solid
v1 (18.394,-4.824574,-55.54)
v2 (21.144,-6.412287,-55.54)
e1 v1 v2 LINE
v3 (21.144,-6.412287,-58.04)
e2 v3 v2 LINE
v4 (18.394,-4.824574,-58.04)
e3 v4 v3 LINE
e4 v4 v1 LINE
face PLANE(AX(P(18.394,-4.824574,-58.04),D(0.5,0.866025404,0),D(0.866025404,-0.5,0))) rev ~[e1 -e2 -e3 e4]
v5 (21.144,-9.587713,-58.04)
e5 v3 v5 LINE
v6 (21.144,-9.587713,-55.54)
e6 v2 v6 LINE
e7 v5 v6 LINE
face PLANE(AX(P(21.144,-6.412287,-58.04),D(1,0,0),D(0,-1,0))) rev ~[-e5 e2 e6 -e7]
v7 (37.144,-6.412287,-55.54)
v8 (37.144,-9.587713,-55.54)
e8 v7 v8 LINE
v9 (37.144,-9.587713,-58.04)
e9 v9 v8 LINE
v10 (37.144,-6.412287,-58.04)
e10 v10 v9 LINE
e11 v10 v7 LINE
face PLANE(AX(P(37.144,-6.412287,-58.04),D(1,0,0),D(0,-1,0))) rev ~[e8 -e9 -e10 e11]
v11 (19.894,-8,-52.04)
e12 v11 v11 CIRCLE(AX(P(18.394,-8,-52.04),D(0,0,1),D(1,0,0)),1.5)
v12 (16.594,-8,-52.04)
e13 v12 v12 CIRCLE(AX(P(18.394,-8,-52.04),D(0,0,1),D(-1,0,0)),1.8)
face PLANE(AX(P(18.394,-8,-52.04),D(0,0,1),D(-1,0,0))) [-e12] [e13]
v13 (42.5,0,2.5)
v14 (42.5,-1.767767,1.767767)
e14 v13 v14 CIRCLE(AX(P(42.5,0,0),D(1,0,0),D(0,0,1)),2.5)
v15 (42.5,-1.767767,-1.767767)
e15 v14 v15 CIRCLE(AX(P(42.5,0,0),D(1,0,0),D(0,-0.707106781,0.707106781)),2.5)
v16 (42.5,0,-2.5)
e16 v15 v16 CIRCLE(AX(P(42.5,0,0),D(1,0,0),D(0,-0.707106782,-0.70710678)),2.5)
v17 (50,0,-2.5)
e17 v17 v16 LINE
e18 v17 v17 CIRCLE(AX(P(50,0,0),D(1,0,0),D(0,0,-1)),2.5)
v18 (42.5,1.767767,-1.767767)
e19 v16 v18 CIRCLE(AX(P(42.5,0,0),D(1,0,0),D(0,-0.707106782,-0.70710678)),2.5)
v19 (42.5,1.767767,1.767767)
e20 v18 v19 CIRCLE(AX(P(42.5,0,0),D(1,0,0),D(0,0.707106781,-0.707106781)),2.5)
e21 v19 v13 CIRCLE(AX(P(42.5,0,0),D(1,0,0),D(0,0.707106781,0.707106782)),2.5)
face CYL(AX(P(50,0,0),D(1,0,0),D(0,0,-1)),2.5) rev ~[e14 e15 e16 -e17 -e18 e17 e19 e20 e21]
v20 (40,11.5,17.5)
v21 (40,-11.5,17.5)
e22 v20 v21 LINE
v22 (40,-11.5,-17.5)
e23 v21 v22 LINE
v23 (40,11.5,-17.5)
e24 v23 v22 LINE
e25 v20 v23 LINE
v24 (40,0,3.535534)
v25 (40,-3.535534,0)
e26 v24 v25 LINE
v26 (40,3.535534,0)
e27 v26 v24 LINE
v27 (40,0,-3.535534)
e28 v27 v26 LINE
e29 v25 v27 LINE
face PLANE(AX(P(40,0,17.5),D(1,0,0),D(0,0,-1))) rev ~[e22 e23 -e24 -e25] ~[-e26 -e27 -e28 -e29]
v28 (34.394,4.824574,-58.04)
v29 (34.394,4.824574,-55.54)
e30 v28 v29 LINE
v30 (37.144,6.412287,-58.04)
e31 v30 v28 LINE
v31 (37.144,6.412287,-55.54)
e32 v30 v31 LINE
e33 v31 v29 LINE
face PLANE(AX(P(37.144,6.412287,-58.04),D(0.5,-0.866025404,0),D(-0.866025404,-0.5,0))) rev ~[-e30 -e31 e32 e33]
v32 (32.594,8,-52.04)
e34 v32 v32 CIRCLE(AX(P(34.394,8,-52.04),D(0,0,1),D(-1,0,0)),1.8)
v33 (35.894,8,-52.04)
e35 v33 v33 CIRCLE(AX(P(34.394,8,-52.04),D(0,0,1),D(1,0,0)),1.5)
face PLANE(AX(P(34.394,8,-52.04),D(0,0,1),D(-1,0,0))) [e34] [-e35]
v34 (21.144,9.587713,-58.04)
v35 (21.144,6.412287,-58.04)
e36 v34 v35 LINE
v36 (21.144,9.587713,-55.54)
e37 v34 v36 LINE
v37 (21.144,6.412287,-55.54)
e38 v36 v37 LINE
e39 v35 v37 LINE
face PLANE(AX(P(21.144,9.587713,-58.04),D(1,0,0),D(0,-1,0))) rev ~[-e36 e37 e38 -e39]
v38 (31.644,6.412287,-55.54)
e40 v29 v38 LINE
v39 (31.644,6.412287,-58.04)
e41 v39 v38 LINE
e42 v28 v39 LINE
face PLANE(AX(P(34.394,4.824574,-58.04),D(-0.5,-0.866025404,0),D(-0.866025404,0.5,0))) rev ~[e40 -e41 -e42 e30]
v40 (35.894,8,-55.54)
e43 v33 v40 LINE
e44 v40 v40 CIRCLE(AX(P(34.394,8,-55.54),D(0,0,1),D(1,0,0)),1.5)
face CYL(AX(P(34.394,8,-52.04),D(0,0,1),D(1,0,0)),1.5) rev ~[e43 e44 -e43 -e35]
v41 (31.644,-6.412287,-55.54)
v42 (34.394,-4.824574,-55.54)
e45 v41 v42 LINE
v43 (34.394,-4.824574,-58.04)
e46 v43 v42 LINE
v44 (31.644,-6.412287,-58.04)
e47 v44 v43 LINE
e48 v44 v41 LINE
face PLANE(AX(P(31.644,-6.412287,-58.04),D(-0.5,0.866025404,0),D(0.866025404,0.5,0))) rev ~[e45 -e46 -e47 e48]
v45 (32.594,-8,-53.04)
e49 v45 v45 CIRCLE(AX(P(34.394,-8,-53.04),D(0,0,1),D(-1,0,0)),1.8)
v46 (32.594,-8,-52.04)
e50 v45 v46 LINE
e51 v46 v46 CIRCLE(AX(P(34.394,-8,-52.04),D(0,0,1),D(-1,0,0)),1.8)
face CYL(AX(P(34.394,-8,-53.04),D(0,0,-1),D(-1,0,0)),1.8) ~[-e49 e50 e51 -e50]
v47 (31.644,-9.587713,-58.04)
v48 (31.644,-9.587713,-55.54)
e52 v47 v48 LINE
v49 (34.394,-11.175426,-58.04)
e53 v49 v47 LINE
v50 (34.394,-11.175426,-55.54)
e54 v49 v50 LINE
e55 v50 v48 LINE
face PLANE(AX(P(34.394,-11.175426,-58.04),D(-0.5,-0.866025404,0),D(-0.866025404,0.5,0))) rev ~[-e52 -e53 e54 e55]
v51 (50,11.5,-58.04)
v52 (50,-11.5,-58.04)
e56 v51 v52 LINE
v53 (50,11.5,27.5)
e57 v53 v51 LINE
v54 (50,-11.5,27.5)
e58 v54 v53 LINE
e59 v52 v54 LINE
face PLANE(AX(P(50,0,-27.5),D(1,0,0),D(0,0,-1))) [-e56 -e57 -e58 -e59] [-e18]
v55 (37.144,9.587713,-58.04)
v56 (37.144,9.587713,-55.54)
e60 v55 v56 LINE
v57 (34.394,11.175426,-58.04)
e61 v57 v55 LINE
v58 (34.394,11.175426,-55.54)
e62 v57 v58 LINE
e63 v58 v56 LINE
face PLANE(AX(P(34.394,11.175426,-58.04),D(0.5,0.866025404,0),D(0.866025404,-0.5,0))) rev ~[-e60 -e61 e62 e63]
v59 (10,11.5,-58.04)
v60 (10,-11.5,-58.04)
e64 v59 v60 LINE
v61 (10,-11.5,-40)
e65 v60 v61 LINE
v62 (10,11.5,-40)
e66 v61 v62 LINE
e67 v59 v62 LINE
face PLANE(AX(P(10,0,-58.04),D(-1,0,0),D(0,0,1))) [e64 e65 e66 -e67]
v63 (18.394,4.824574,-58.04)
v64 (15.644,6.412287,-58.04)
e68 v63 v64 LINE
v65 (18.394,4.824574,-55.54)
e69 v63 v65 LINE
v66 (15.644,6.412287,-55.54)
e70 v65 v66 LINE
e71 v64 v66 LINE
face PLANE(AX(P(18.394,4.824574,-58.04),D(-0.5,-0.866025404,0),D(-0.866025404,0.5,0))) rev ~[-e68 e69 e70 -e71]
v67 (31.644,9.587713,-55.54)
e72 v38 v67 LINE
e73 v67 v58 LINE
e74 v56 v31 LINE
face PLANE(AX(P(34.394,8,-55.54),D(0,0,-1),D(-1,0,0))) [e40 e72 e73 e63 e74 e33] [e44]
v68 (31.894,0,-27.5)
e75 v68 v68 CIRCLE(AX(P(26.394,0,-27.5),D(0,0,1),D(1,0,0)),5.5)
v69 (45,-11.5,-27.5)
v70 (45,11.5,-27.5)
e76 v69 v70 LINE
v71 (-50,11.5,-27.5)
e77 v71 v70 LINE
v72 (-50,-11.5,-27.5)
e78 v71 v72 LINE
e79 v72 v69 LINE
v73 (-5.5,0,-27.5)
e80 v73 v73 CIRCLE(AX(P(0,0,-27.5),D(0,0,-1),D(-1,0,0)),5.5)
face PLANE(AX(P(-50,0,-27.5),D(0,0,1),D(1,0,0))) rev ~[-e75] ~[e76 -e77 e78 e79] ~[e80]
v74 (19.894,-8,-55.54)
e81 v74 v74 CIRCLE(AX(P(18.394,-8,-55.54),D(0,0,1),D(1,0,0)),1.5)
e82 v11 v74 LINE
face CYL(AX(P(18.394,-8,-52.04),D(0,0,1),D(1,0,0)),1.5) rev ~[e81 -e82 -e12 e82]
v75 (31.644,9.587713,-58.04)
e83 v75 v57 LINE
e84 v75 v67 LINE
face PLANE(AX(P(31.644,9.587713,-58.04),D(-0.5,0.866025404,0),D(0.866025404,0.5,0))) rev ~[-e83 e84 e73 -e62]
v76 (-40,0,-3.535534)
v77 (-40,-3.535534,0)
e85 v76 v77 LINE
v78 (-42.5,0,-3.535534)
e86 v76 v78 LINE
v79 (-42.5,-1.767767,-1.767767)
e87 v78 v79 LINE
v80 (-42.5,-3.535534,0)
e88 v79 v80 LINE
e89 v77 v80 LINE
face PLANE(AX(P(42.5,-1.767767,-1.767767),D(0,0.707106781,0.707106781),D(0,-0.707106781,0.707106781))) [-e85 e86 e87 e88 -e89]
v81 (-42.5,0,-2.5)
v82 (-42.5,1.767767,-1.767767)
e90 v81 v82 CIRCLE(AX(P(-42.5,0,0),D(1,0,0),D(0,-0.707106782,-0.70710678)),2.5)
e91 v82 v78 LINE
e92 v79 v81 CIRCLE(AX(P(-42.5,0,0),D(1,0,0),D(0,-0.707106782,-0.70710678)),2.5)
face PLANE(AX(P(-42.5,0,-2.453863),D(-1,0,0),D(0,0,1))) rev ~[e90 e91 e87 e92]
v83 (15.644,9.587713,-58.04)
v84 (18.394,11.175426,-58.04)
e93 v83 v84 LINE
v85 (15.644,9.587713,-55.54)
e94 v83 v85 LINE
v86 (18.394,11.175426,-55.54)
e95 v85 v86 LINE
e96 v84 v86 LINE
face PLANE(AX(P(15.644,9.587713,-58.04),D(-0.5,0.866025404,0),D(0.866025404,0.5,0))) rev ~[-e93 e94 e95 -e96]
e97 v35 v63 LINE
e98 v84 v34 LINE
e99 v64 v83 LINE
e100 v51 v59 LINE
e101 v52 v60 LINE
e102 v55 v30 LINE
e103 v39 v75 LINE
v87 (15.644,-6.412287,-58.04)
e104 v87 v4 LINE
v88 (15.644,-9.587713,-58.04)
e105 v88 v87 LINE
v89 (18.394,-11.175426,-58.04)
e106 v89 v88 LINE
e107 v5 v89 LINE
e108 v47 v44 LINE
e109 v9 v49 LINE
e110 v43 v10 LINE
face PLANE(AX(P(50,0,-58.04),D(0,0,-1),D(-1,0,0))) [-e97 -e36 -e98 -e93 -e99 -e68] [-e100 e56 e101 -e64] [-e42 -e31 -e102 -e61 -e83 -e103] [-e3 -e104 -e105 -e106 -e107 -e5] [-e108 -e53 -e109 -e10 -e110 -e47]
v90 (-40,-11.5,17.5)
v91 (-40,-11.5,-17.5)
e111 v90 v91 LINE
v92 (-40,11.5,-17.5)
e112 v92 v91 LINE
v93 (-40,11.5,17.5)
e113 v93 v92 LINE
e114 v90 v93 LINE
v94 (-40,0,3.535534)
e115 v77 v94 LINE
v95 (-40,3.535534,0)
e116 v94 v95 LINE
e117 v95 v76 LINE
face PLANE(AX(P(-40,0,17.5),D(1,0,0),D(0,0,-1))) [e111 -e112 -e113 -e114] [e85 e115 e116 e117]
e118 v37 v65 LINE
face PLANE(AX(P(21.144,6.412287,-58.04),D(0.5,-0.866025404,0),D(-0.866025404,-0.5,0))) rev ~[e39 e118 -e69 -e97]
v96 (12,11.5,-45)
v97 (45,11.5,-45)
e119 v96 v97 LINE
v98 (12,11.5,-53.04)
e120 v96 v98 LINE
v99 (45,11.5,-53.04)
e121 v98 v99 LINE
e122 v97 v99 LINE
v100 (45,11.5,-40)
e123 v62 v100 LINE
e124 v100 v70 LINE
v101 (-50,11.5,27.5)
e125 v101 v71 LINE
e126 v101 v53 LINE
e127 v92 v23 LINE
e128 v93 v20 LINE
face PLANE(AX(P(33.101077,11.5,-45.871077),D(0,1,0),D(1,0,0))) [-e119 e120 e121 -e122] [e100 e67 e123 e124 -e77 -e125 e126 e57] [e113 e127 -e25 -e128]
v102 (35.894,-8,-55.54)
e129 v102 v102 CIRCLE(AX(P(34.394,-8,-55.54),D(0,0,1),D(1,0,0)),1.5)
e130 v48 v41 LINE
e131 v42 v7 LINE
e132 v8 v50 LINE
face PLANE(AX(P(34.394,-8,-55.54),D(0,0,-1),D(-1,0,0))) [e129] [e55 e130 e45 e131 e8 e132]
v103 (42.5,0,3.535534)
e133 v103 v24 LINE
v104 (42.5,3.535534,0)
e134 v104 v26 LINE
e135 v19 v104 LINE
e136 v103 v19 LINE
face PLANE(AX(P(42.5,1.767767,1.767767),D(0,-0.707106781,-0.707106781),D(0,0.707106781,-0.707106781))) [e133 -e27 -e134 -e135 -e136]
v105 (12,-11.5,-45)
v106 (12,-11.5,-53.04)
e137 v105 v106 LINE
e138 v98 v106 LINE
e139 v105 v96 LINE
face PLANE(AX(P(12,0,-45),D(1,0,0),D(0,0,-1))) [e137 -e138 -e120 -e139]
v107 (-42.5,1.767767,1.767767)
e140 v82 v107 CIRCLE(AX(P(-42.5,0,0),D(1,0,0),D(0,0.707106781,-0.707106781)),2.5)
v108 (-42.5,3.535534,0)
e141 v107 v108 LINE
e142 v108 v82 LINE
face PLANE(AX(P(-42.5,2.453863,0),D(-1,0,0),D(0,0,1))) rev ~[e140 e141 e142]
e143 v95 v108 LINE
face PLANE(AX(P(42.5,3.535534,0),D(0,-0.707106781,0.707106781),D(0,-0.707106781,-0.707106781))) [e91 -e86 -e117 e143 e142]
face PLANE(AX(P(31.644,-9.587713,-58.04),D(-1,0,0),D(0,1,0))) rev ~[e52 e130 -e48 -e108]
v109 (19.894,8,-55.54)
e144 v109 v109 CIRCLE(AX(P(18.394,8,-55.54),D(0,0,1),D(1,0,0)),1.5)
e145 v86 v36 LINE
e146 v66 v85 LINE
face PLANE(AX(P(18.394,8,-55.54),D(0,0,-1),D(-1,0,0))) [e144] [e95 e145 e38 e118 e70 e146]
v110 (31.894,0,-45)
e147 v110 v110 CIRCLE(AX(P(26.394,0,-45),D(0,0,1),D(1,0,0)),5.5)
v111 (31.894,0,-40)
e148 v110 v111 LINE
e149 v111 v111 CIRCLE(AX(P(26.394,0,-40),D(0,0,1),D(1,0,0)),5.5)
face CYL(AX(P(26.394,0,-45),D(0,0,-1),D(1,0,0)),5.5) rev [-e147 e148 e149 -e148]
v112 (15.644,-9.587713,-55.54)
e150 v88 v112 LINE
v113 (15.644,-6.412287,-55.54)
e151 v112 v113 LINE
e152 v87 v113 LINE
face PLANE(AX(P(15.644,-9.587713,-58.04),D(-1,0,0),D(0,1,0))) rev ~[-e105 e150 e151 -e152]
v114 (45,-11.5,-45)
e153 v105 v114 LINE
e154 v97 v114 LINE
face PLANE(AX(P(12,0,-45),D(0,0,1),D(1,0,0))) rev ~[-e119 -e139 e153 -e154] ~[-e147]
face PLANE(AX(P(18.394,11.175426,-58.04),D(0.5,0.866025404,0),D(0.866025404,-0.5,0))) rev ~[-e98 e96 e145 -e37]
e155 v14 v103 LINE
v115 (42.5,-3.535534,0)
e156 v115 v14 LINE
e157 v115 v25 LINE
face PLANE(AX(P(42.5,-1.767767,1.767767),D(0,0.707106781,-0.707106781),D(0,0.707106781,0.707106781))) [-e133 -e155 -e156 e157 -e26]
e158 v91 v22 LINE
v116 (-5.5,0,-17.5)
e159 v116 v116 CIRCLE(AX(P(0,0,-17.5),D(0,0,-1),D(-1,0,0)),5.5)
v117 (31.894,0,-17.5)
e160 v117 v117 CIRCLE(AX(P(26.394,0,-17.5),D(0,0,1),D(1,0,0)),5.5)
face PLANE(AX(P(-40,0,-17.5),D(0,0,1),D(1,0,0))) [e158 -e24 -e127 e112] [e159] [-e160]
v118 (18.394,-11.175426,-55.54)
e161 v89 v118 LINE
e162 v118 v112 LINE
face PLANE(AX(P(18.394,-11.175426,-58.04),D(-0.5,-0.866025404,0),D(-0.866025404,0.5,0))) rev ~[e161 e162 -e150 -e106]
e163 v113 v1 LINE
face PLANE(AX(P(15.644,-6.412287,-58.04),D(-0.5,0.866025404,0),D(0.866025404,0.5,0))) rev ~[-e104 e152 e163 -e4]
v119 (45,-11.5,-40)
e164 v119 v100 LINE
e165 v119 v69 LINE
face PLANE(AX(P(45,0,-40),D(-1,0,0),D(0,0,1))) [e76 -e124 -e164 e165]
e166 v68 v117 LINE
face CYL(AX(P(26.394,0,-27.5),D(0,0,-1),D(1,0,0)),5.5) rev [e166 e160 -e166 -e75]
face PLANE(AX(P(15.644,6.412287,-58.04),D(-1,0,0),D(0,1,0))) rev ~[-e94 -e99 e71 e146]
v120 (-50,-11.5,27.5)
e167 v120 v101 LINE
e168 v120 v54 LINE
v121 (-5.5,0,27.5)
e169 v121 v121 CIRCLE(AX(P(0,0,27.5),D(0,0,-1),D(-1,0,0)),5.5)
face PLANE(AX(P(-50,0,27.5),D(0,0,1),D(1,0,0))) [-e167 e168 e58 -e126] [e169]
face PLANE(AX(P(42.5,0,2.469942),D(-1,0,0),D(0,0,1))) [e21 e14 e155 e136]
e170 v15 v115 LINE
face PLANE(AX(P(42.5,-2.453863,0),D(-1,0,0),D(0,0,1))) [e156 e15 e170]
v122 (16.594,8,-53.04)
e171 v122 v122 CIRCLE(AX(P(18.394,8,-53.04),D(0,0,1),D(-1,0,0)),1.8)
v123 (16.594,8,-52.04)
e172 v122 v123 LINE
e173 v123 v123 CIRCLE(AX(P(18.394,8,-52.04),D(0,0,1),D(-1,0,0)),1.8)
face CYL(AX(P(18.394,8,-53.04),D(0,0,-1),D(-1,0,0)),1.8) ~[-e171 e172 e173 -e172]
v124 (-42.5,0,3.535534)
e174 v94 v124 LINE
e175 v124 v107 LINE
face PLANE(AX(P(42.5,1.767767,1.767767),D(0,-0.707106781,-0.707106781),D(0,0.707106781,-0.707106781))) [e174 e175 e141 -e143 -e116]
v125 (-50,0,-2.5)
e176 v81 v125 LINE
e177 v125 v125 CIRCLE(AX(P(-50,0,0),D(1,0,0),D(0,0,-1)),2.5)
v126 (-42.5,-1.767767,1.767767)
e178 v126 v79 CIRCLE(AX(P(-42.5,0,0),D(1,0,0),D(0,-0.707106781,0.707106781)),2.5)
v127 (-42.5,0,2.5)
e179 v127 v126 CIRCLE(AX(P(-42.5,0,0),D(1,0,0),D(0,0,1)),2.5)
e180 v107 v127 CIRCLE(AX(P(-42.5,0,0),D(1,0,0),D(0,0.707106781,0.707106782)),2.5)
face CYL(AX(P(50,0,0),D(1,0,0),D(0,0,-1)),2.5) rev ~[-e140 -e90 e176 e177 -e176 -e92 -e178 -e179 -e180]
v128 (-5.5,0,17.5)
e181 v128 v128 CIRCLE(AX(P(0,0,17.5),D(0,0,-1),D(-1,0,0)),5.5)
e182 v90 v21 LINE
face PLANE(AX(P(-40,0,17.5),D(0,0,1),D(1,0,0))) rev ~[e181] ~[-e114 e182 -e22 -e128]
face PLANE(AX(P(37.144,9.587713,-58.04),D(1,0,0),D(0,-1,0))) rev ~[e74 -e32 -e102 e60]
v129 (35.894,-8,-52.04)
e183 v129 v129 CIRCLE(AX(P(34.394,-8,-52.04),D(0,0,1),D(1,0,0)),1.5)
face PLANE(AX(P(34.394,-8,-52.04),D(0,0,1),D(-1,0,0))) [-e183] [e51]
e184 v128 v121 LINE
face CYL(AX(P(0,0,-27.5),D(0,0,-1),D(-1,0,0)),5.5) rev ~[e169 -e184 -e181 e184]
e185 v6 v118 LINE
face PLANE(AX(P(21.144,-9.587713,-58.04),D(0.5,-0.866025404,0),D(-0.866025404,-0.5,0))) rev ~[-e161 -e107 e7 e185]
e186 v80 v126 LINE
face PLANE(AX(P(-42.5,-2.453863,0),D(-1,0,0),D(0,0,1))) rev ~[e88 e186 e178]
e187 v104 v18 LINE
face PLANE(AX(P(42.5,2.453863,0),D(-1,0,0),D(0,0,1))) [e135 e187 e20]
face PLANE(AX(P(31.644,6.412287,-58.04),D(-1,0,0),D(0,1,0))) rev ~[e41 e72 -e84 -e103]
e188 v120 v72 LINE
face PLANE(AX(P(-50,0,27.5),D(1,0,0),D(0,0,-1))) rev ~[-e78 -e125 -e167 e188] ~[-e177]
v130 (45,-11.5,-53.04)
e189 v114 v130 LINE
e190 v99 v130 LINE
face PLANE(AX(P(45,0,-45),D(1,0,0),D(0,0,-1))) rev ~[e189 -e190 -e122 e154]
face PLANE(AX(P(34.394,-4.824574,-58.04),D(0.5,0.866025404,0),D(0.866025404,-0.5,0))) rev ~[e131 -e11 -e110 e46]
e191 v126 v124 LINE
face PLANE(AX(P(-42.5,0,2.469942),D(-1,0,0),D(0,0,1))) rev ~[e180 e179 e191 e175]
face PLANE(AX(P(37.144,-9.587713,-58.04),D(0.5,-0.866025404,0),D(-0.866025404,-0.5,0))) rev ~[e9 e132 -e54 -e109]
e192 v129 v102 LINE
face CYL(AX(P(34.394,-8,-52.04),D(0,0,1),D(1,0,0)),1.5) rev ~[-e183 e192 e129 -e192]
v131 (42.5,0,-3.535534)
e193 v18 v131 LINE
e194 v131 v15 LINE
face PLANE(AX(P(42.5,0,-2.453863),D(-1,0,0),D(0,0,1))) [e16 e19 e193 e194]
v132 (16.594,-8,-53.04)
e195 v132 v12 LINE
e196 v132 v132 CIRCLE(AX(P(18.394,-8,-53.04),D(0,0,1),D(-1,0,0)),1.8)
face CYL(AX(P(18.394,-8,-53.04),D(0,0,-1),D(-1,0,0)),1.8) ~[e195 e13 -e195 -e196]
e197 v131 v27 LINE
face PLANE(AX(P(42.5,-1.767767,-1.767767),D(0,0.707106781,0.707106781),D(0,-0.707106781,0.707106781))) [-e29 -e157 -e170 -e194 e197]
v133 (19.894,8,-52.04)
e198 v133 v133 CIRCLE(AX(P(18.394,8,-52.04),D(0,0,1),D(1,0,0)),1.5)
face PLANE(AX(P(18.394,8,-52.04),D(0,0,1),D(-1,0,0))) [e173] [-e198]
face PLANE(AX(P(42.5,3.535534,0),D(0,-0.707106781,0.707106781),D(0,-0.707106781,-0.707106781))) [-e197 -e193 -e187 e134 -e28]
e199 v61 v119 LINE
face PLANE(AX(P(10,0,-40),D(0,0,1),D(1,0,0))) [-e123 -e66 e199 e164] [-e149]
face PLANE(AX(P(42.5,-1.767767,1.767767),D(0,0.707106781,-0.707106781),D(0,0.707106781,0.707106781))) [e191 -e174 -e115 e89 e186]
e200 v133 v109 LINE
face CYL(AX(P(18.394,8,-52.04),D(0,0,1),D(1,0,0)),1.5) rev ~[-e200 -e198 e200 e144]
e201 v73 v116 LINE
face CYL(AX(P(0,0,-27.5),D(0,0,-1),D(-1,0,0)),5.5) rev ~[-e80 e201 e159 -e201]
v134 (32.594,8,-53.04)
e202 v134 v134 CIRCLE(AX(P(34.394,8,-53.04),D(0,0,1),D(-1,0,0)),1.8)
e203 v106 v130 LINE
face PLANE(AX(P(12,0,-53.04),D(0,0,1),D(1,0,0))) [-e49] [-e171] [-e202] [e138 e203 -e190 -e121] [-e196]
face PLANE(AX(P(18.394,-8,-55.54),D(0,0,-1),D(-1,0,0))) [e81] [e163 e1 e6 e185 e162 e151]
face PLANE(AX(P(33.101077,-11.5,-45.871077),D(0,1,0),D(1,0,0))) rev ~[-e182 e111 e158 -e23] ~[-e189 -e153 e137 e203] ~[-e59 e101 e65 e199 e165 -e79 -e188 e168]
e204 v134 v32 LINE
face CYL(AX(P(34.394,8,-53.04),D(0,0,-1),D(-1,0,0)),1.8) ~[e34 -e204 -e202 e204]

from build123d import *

# Parameters (mm, degrees)
SKETCH1_W           = 100
SKETCH1_H           = 55
SKETCH1_W_2         = 80
SKETCH1_H_2         = 35
BOSS_EXTRUDE1_DEPTH = 11.5
CUT_EXTRUDE1_REACH  = 106.348
SKETCH2_R           = 2.5
CUT_EXTRUDE2_REACH  = 77.215
SKETCH3_R           = 5.5
CUT_EXTRUDE3_START  = -2.5
CUT_EXTRUDE3_DEPTH  = 85
SKETCH5_R           = 5.5
CUT_EXTRUDE4_DEPTH  = 10
SKETCH6_W           = 33
SKETCH6_H           = 8.04
BOSS_EXTRUDE2_DEPTH = 11.5
SKETCH8_R           = 1.8
BOSS_EXTRUDE3_DEPTH = 1
CUT_EXTRUDE5_REACH  = 96.651
SKETCH9_R           = 1.5
CUT_EXTRUDE6_DEPTH  = 2.5
CUT_EXTRUDE7_START  = -5
SKETCH11_R          = 5.5
CUT_EXTRUDE7_DEPTH  = 5


with BuildPart() as part:
    # Sketch1 → Boss-Extrude1 (new, symmetric)
    with BuildSketch(Plane(origin=(0, 0, 0), x_dir=(1, 0, 0), z_dir=(0, 1, 0))):
        Rectangle(SKETCH1_W, SKETCH1_H)
        Rectangle(SKETCH1_W_2, SKETCH1_H_2, mode=Mode.SUBTRACT)
    extrude(amount=BOSS_EXTRUDE1_DEPTH, both=True)

    # Cut-Extrude1: up to this face of the body (flat: up to its plane)
    cut_extrude1_end = Plane(part.part.faces().sort_by_distance((-50, 0, 0))[0])
    # Sketch2 → Cut-Extrude1 (cut, up to the picked face)
    with BuildSketch(Plane(origin=(50, 0, 0), x_dir=(0, 0, -1), z_dir=(1, 0, 0)), mode=Mode.PRIVATE) as cut_extrude1_sk1:
        Circle(SKETCH2_R)
    cut_extrude1_tool1 = split(extrude(cut_extrude1_sk1.sketch, amount=-CUT_EXTRUDE1_REACH, mode=Mode.PRIVATE), bisect_by=cut_extrude1_end, keep=Keep.BOTH, mode=Mode.PRIVATE)
    add(cut_extrude1_tool1.solids().sort_by(Axis((50, 0, 0), (-1, 0, 0)))[0], mode=Mode.SUBTRACT)

    # Cut-Extrude2: up to this face of the body (flat: up to its plane)
    cut_extrude2_end = Plane(part.part.faces().sort_by_distance((0, 0, 27.5))[0])
    # Sketch3 → Cut-Extrude2 (cut, up to the picked face)
    with BuildSketch(Plane(origin=(0, 0, -27.5), x_dir=(-1, 0, 0), z_dir=(0, 0, -1)), mode=Mode.PRIVATE) as cut_extrude2_sk1:
        Circle(SKETCH3_R)
    cut_extrude2_tool1 = split(extrude(cut_extrude2_sk1.sketch, amount=-CUT_EXTRUDE2_REACH, mode=Mode.PRIVATE), bisect_by=cut_extrude2_end, keep=Keep.BOTH, mode=Mode.PRIVATE)
    add(cut_extrude2_tool1.solids().sort_by(Axis((0, 0, -27.5), (0, 0, 1)))[0], mode=Mode.SUBTRACT)

    # Sketch4 → Cut-Extrude3 (cut)
    with BuildSketch(Plane.ZY.offset(-40).offset(CUT_EXTRUDE3_START)):
        with BuildLine():
            ThreePointArc((1.767766953, -1.767766953), (2e-09, -2.5), (-1.767766951, -1.767766955))
            Line((-1.767766951, -1.767766955), (0, -3.535533906))
            Line((0, -3.535533906), (1.767766953, -1.767766953))
        make_face()
        with BuildLine():
            ThreePointArc((-1.767766951, -1.767766955), (-2.5, -2e-09), (-1.767766953, 1.767766953))
            Line((-1.767766953, 1.767766953), (-3.535533906, 0))
            Line((-3.535533906, 0), (-1.767766951, -1.767766955))
        make_face()
        with BuildLine():
            Line((1.767766953, 1.767766953), (0, 3.535533906))
            Line((0, 3.535533906), (-1.767766953, 1.767766953))
            ThreePointArc((-1.767766953, 1.767766953), (0, 2.5), (1.767766953, 1.767766953))
        make_face()
        with BuildLine():
            Line((3.535533906, 0), (1.767766953, 1.767766953))
            ThreePointArc((1.767766953, 1.767766953), (2.309698831, 0.956708581), (2.5, 0))
            ThreePointArc((2.5, 0), (2.309698831, -0.956708581), (1.767766953, -1.767766953))
            Line((1.767766953, -1.767766953), (3.535533906, 0))
        make_face()
    extrude(amount=CUT_EXTRUDE3_DEPTH, mode=Mode.SUBTRACT)

    # Sketch5 → Cut-Extrude4 (cut)
    with BuildSketch(Plane.XY.offset(-27.5)):
        with Locations((26.394, 0)):
            Circle(SKETCH5_R)
    extrude(amount=CUT_EXTRUDE4_DEPTH, mode=Mode.SUBTRACT)

    # Sketch6 → Boss-Extrude2 (add, symmetric)
    with BuildSketch(Plane(origin=(0, 0, 0), x_dir=(1, 0, 0), z_dir=(0, 1, 0))):
        Polygon((10, 58.04), (10, 40), (45, 40), (45, 27.5), (50, 27.5), (50, 58.04), align=None)
        with Locations((28.5, 49.02)):
            Rectangle(SKETCH6_W, SKETCH6_H, mode=Mode.SUBTRACT)
    extrude(amount=BOSS_EXTRUDE2_DEPTH, both=True)

    # Sketch8 → Boss-Extrude3 (add)
    with BuildSketch(Plane.XY.offset(-53.04)):
        with Locations(Location((18.394, 8, 0), (0, 0, 180))):
            Circle(SKETCH8_R)
        with Locations(Location((34.394, 8, 0), (0, 0, 180))):
            Circle(SKETCH8_R)
        with Locations(Location((34.394, -8, 0), (0, 0, 180))):
            Circle(SKETCH8_R)
        with Locations(Location((18.394, -8, 0), (0, 0, 180))):
            Circle(SKETCH8_R)
    extrude(amount=BOSS_EXTRUDE3_DEPTH)

    # Sketch9 → Cut-Extrude5 (cut, up to next)
    with BuildSketch(Plane.XY.offset(-52.04), mode=Mode.PRIVATE) as cut_extrude5_sk1:
        with Locations((18.394, 8)):
            Circle(SKETCH9_R)
    cut_extrude5_tool1 = extrude(cut_extrude5_sk1.sketch, amount=-CUT_EXTRUDE5_REACH, mode=Mode.PRIVATE) & part.part
    # Sketch9 → Cut-Extrude5 (cut, up to next)
    with BuildSketch(Plane.XY.offset(-52.04), mode=Mode.PRIVATE) as cut_extrude5_sk2:
        with Locations((34.394, 8)):
            Circle(SKETCH9_R)
    cut_extrude5_tool2 = extrude(cut_extrude5_sk2.sketch, amount=-CUT_EXTRUDE5_REACH, mode=Mode.PRIVATE) & part.part
    # Sketch9 → Cut-Extrude5 (cut, up to next)
    with BuildSketch(Plane.XY.offset(-52.04), mode=Mode.PRIVATE) as cut_extrude5_sk3:
        with Locations((34.394, -8)):
            Circle(SKETCH9_R)
    cut_extrude5_tool3 = extrude(cut_extrude5_sk3.sketch, amount=-CUT_EXTRUDE5_REACH, mode=Mode.PRIVATE) & part.part
    # Sketch9 → Cut-Extrude5 (cut, up to next)
    with BuildSketch(Plane.XY.offset(-52.04), mode=Mode.PRIVATE) as cut_extrude5_sk4:
        with Locations((18.394, -8)):
            Circle(SKETCH9_R)
    cut_extrude5_tool4 = extrude(cut_extrude5_sk4.sketch, amount=-CUT_EXTRUDE5_REACH, mode=Mode.PRIVATE) & part.part
    add(cut_extrude5_tool1.solids().sort_by_distance((18.394, 8, -52.04))[0], mode=Mode.SUBTRACT)
    add(cut_extrude5_tool2.solids().sort_by_distance((34.394, 8, -52.04))[0], mode=Mode.SUBTRACT)
    add(cut_extrude5_tool3.solids().sort_by_distance((34.394, -8, -52.04))[0], mode=Mode.SUBTRACT)
    add(cut_extrude5_tool4.solids().sort_by_distance((18.394, -8, -52.04))[0], mode=Mode.SUBTRACT)

    # Sketch10 → Cut-Extrude6 (cut)
    with BuildSketch(Plane(origin=(0, 0, -58.04), x_dir=(-1, 0, 0), z_dir=(0, 0, -1))):
        Polygon((-31.644, 6.41228676), (-31.644, 9.58771324), (-34.394, 11.175426481), (-37.144, 9.58771324), (-37.144, 6.41228676), (-34.394, 4.824573519), align=None)
        Polygon((-15.644, 6.41228676), (-15.644, 9.58771324), (-18.394, 11.175426481), (-21.144, 9.58771324), (-21.144, 6.41228676), (-18.394, 4.824573519), align=None)
        Polygon((-15.644, -9.58771324), (-15.644, -6.41228676), (-18.394, -4.824573519), (-21.144, -6.41228676), (-21.144, -9.58771324), (-18.394, -11.175426481), align=None)
        Polygon((-31.644, -9.58771324), (-31.644, -6.41228676), (-34.394, -4.824573519), (-37.144, -6.41228676), (-37.144, -9.58771324), (-34.394, -11.175426481), align=None)
    extrude(amount=-CUT_EXTRUDE6_DEPTH, mode=Mode.SUBTRACT)

    # Sketch11 → Cut-Extrude7 (cut)
    with BuildSketch(Plane.XY.offset(-40).offset(CUT_EXTRUDE7_START)):
        with Locations((26.394, 0)):
            Circle(SKETCH11_R)
    extrude(amount=CUT_EXTRUDE7_DEPTH, mode=Mode.SUBTRACT)


solid = part.part
